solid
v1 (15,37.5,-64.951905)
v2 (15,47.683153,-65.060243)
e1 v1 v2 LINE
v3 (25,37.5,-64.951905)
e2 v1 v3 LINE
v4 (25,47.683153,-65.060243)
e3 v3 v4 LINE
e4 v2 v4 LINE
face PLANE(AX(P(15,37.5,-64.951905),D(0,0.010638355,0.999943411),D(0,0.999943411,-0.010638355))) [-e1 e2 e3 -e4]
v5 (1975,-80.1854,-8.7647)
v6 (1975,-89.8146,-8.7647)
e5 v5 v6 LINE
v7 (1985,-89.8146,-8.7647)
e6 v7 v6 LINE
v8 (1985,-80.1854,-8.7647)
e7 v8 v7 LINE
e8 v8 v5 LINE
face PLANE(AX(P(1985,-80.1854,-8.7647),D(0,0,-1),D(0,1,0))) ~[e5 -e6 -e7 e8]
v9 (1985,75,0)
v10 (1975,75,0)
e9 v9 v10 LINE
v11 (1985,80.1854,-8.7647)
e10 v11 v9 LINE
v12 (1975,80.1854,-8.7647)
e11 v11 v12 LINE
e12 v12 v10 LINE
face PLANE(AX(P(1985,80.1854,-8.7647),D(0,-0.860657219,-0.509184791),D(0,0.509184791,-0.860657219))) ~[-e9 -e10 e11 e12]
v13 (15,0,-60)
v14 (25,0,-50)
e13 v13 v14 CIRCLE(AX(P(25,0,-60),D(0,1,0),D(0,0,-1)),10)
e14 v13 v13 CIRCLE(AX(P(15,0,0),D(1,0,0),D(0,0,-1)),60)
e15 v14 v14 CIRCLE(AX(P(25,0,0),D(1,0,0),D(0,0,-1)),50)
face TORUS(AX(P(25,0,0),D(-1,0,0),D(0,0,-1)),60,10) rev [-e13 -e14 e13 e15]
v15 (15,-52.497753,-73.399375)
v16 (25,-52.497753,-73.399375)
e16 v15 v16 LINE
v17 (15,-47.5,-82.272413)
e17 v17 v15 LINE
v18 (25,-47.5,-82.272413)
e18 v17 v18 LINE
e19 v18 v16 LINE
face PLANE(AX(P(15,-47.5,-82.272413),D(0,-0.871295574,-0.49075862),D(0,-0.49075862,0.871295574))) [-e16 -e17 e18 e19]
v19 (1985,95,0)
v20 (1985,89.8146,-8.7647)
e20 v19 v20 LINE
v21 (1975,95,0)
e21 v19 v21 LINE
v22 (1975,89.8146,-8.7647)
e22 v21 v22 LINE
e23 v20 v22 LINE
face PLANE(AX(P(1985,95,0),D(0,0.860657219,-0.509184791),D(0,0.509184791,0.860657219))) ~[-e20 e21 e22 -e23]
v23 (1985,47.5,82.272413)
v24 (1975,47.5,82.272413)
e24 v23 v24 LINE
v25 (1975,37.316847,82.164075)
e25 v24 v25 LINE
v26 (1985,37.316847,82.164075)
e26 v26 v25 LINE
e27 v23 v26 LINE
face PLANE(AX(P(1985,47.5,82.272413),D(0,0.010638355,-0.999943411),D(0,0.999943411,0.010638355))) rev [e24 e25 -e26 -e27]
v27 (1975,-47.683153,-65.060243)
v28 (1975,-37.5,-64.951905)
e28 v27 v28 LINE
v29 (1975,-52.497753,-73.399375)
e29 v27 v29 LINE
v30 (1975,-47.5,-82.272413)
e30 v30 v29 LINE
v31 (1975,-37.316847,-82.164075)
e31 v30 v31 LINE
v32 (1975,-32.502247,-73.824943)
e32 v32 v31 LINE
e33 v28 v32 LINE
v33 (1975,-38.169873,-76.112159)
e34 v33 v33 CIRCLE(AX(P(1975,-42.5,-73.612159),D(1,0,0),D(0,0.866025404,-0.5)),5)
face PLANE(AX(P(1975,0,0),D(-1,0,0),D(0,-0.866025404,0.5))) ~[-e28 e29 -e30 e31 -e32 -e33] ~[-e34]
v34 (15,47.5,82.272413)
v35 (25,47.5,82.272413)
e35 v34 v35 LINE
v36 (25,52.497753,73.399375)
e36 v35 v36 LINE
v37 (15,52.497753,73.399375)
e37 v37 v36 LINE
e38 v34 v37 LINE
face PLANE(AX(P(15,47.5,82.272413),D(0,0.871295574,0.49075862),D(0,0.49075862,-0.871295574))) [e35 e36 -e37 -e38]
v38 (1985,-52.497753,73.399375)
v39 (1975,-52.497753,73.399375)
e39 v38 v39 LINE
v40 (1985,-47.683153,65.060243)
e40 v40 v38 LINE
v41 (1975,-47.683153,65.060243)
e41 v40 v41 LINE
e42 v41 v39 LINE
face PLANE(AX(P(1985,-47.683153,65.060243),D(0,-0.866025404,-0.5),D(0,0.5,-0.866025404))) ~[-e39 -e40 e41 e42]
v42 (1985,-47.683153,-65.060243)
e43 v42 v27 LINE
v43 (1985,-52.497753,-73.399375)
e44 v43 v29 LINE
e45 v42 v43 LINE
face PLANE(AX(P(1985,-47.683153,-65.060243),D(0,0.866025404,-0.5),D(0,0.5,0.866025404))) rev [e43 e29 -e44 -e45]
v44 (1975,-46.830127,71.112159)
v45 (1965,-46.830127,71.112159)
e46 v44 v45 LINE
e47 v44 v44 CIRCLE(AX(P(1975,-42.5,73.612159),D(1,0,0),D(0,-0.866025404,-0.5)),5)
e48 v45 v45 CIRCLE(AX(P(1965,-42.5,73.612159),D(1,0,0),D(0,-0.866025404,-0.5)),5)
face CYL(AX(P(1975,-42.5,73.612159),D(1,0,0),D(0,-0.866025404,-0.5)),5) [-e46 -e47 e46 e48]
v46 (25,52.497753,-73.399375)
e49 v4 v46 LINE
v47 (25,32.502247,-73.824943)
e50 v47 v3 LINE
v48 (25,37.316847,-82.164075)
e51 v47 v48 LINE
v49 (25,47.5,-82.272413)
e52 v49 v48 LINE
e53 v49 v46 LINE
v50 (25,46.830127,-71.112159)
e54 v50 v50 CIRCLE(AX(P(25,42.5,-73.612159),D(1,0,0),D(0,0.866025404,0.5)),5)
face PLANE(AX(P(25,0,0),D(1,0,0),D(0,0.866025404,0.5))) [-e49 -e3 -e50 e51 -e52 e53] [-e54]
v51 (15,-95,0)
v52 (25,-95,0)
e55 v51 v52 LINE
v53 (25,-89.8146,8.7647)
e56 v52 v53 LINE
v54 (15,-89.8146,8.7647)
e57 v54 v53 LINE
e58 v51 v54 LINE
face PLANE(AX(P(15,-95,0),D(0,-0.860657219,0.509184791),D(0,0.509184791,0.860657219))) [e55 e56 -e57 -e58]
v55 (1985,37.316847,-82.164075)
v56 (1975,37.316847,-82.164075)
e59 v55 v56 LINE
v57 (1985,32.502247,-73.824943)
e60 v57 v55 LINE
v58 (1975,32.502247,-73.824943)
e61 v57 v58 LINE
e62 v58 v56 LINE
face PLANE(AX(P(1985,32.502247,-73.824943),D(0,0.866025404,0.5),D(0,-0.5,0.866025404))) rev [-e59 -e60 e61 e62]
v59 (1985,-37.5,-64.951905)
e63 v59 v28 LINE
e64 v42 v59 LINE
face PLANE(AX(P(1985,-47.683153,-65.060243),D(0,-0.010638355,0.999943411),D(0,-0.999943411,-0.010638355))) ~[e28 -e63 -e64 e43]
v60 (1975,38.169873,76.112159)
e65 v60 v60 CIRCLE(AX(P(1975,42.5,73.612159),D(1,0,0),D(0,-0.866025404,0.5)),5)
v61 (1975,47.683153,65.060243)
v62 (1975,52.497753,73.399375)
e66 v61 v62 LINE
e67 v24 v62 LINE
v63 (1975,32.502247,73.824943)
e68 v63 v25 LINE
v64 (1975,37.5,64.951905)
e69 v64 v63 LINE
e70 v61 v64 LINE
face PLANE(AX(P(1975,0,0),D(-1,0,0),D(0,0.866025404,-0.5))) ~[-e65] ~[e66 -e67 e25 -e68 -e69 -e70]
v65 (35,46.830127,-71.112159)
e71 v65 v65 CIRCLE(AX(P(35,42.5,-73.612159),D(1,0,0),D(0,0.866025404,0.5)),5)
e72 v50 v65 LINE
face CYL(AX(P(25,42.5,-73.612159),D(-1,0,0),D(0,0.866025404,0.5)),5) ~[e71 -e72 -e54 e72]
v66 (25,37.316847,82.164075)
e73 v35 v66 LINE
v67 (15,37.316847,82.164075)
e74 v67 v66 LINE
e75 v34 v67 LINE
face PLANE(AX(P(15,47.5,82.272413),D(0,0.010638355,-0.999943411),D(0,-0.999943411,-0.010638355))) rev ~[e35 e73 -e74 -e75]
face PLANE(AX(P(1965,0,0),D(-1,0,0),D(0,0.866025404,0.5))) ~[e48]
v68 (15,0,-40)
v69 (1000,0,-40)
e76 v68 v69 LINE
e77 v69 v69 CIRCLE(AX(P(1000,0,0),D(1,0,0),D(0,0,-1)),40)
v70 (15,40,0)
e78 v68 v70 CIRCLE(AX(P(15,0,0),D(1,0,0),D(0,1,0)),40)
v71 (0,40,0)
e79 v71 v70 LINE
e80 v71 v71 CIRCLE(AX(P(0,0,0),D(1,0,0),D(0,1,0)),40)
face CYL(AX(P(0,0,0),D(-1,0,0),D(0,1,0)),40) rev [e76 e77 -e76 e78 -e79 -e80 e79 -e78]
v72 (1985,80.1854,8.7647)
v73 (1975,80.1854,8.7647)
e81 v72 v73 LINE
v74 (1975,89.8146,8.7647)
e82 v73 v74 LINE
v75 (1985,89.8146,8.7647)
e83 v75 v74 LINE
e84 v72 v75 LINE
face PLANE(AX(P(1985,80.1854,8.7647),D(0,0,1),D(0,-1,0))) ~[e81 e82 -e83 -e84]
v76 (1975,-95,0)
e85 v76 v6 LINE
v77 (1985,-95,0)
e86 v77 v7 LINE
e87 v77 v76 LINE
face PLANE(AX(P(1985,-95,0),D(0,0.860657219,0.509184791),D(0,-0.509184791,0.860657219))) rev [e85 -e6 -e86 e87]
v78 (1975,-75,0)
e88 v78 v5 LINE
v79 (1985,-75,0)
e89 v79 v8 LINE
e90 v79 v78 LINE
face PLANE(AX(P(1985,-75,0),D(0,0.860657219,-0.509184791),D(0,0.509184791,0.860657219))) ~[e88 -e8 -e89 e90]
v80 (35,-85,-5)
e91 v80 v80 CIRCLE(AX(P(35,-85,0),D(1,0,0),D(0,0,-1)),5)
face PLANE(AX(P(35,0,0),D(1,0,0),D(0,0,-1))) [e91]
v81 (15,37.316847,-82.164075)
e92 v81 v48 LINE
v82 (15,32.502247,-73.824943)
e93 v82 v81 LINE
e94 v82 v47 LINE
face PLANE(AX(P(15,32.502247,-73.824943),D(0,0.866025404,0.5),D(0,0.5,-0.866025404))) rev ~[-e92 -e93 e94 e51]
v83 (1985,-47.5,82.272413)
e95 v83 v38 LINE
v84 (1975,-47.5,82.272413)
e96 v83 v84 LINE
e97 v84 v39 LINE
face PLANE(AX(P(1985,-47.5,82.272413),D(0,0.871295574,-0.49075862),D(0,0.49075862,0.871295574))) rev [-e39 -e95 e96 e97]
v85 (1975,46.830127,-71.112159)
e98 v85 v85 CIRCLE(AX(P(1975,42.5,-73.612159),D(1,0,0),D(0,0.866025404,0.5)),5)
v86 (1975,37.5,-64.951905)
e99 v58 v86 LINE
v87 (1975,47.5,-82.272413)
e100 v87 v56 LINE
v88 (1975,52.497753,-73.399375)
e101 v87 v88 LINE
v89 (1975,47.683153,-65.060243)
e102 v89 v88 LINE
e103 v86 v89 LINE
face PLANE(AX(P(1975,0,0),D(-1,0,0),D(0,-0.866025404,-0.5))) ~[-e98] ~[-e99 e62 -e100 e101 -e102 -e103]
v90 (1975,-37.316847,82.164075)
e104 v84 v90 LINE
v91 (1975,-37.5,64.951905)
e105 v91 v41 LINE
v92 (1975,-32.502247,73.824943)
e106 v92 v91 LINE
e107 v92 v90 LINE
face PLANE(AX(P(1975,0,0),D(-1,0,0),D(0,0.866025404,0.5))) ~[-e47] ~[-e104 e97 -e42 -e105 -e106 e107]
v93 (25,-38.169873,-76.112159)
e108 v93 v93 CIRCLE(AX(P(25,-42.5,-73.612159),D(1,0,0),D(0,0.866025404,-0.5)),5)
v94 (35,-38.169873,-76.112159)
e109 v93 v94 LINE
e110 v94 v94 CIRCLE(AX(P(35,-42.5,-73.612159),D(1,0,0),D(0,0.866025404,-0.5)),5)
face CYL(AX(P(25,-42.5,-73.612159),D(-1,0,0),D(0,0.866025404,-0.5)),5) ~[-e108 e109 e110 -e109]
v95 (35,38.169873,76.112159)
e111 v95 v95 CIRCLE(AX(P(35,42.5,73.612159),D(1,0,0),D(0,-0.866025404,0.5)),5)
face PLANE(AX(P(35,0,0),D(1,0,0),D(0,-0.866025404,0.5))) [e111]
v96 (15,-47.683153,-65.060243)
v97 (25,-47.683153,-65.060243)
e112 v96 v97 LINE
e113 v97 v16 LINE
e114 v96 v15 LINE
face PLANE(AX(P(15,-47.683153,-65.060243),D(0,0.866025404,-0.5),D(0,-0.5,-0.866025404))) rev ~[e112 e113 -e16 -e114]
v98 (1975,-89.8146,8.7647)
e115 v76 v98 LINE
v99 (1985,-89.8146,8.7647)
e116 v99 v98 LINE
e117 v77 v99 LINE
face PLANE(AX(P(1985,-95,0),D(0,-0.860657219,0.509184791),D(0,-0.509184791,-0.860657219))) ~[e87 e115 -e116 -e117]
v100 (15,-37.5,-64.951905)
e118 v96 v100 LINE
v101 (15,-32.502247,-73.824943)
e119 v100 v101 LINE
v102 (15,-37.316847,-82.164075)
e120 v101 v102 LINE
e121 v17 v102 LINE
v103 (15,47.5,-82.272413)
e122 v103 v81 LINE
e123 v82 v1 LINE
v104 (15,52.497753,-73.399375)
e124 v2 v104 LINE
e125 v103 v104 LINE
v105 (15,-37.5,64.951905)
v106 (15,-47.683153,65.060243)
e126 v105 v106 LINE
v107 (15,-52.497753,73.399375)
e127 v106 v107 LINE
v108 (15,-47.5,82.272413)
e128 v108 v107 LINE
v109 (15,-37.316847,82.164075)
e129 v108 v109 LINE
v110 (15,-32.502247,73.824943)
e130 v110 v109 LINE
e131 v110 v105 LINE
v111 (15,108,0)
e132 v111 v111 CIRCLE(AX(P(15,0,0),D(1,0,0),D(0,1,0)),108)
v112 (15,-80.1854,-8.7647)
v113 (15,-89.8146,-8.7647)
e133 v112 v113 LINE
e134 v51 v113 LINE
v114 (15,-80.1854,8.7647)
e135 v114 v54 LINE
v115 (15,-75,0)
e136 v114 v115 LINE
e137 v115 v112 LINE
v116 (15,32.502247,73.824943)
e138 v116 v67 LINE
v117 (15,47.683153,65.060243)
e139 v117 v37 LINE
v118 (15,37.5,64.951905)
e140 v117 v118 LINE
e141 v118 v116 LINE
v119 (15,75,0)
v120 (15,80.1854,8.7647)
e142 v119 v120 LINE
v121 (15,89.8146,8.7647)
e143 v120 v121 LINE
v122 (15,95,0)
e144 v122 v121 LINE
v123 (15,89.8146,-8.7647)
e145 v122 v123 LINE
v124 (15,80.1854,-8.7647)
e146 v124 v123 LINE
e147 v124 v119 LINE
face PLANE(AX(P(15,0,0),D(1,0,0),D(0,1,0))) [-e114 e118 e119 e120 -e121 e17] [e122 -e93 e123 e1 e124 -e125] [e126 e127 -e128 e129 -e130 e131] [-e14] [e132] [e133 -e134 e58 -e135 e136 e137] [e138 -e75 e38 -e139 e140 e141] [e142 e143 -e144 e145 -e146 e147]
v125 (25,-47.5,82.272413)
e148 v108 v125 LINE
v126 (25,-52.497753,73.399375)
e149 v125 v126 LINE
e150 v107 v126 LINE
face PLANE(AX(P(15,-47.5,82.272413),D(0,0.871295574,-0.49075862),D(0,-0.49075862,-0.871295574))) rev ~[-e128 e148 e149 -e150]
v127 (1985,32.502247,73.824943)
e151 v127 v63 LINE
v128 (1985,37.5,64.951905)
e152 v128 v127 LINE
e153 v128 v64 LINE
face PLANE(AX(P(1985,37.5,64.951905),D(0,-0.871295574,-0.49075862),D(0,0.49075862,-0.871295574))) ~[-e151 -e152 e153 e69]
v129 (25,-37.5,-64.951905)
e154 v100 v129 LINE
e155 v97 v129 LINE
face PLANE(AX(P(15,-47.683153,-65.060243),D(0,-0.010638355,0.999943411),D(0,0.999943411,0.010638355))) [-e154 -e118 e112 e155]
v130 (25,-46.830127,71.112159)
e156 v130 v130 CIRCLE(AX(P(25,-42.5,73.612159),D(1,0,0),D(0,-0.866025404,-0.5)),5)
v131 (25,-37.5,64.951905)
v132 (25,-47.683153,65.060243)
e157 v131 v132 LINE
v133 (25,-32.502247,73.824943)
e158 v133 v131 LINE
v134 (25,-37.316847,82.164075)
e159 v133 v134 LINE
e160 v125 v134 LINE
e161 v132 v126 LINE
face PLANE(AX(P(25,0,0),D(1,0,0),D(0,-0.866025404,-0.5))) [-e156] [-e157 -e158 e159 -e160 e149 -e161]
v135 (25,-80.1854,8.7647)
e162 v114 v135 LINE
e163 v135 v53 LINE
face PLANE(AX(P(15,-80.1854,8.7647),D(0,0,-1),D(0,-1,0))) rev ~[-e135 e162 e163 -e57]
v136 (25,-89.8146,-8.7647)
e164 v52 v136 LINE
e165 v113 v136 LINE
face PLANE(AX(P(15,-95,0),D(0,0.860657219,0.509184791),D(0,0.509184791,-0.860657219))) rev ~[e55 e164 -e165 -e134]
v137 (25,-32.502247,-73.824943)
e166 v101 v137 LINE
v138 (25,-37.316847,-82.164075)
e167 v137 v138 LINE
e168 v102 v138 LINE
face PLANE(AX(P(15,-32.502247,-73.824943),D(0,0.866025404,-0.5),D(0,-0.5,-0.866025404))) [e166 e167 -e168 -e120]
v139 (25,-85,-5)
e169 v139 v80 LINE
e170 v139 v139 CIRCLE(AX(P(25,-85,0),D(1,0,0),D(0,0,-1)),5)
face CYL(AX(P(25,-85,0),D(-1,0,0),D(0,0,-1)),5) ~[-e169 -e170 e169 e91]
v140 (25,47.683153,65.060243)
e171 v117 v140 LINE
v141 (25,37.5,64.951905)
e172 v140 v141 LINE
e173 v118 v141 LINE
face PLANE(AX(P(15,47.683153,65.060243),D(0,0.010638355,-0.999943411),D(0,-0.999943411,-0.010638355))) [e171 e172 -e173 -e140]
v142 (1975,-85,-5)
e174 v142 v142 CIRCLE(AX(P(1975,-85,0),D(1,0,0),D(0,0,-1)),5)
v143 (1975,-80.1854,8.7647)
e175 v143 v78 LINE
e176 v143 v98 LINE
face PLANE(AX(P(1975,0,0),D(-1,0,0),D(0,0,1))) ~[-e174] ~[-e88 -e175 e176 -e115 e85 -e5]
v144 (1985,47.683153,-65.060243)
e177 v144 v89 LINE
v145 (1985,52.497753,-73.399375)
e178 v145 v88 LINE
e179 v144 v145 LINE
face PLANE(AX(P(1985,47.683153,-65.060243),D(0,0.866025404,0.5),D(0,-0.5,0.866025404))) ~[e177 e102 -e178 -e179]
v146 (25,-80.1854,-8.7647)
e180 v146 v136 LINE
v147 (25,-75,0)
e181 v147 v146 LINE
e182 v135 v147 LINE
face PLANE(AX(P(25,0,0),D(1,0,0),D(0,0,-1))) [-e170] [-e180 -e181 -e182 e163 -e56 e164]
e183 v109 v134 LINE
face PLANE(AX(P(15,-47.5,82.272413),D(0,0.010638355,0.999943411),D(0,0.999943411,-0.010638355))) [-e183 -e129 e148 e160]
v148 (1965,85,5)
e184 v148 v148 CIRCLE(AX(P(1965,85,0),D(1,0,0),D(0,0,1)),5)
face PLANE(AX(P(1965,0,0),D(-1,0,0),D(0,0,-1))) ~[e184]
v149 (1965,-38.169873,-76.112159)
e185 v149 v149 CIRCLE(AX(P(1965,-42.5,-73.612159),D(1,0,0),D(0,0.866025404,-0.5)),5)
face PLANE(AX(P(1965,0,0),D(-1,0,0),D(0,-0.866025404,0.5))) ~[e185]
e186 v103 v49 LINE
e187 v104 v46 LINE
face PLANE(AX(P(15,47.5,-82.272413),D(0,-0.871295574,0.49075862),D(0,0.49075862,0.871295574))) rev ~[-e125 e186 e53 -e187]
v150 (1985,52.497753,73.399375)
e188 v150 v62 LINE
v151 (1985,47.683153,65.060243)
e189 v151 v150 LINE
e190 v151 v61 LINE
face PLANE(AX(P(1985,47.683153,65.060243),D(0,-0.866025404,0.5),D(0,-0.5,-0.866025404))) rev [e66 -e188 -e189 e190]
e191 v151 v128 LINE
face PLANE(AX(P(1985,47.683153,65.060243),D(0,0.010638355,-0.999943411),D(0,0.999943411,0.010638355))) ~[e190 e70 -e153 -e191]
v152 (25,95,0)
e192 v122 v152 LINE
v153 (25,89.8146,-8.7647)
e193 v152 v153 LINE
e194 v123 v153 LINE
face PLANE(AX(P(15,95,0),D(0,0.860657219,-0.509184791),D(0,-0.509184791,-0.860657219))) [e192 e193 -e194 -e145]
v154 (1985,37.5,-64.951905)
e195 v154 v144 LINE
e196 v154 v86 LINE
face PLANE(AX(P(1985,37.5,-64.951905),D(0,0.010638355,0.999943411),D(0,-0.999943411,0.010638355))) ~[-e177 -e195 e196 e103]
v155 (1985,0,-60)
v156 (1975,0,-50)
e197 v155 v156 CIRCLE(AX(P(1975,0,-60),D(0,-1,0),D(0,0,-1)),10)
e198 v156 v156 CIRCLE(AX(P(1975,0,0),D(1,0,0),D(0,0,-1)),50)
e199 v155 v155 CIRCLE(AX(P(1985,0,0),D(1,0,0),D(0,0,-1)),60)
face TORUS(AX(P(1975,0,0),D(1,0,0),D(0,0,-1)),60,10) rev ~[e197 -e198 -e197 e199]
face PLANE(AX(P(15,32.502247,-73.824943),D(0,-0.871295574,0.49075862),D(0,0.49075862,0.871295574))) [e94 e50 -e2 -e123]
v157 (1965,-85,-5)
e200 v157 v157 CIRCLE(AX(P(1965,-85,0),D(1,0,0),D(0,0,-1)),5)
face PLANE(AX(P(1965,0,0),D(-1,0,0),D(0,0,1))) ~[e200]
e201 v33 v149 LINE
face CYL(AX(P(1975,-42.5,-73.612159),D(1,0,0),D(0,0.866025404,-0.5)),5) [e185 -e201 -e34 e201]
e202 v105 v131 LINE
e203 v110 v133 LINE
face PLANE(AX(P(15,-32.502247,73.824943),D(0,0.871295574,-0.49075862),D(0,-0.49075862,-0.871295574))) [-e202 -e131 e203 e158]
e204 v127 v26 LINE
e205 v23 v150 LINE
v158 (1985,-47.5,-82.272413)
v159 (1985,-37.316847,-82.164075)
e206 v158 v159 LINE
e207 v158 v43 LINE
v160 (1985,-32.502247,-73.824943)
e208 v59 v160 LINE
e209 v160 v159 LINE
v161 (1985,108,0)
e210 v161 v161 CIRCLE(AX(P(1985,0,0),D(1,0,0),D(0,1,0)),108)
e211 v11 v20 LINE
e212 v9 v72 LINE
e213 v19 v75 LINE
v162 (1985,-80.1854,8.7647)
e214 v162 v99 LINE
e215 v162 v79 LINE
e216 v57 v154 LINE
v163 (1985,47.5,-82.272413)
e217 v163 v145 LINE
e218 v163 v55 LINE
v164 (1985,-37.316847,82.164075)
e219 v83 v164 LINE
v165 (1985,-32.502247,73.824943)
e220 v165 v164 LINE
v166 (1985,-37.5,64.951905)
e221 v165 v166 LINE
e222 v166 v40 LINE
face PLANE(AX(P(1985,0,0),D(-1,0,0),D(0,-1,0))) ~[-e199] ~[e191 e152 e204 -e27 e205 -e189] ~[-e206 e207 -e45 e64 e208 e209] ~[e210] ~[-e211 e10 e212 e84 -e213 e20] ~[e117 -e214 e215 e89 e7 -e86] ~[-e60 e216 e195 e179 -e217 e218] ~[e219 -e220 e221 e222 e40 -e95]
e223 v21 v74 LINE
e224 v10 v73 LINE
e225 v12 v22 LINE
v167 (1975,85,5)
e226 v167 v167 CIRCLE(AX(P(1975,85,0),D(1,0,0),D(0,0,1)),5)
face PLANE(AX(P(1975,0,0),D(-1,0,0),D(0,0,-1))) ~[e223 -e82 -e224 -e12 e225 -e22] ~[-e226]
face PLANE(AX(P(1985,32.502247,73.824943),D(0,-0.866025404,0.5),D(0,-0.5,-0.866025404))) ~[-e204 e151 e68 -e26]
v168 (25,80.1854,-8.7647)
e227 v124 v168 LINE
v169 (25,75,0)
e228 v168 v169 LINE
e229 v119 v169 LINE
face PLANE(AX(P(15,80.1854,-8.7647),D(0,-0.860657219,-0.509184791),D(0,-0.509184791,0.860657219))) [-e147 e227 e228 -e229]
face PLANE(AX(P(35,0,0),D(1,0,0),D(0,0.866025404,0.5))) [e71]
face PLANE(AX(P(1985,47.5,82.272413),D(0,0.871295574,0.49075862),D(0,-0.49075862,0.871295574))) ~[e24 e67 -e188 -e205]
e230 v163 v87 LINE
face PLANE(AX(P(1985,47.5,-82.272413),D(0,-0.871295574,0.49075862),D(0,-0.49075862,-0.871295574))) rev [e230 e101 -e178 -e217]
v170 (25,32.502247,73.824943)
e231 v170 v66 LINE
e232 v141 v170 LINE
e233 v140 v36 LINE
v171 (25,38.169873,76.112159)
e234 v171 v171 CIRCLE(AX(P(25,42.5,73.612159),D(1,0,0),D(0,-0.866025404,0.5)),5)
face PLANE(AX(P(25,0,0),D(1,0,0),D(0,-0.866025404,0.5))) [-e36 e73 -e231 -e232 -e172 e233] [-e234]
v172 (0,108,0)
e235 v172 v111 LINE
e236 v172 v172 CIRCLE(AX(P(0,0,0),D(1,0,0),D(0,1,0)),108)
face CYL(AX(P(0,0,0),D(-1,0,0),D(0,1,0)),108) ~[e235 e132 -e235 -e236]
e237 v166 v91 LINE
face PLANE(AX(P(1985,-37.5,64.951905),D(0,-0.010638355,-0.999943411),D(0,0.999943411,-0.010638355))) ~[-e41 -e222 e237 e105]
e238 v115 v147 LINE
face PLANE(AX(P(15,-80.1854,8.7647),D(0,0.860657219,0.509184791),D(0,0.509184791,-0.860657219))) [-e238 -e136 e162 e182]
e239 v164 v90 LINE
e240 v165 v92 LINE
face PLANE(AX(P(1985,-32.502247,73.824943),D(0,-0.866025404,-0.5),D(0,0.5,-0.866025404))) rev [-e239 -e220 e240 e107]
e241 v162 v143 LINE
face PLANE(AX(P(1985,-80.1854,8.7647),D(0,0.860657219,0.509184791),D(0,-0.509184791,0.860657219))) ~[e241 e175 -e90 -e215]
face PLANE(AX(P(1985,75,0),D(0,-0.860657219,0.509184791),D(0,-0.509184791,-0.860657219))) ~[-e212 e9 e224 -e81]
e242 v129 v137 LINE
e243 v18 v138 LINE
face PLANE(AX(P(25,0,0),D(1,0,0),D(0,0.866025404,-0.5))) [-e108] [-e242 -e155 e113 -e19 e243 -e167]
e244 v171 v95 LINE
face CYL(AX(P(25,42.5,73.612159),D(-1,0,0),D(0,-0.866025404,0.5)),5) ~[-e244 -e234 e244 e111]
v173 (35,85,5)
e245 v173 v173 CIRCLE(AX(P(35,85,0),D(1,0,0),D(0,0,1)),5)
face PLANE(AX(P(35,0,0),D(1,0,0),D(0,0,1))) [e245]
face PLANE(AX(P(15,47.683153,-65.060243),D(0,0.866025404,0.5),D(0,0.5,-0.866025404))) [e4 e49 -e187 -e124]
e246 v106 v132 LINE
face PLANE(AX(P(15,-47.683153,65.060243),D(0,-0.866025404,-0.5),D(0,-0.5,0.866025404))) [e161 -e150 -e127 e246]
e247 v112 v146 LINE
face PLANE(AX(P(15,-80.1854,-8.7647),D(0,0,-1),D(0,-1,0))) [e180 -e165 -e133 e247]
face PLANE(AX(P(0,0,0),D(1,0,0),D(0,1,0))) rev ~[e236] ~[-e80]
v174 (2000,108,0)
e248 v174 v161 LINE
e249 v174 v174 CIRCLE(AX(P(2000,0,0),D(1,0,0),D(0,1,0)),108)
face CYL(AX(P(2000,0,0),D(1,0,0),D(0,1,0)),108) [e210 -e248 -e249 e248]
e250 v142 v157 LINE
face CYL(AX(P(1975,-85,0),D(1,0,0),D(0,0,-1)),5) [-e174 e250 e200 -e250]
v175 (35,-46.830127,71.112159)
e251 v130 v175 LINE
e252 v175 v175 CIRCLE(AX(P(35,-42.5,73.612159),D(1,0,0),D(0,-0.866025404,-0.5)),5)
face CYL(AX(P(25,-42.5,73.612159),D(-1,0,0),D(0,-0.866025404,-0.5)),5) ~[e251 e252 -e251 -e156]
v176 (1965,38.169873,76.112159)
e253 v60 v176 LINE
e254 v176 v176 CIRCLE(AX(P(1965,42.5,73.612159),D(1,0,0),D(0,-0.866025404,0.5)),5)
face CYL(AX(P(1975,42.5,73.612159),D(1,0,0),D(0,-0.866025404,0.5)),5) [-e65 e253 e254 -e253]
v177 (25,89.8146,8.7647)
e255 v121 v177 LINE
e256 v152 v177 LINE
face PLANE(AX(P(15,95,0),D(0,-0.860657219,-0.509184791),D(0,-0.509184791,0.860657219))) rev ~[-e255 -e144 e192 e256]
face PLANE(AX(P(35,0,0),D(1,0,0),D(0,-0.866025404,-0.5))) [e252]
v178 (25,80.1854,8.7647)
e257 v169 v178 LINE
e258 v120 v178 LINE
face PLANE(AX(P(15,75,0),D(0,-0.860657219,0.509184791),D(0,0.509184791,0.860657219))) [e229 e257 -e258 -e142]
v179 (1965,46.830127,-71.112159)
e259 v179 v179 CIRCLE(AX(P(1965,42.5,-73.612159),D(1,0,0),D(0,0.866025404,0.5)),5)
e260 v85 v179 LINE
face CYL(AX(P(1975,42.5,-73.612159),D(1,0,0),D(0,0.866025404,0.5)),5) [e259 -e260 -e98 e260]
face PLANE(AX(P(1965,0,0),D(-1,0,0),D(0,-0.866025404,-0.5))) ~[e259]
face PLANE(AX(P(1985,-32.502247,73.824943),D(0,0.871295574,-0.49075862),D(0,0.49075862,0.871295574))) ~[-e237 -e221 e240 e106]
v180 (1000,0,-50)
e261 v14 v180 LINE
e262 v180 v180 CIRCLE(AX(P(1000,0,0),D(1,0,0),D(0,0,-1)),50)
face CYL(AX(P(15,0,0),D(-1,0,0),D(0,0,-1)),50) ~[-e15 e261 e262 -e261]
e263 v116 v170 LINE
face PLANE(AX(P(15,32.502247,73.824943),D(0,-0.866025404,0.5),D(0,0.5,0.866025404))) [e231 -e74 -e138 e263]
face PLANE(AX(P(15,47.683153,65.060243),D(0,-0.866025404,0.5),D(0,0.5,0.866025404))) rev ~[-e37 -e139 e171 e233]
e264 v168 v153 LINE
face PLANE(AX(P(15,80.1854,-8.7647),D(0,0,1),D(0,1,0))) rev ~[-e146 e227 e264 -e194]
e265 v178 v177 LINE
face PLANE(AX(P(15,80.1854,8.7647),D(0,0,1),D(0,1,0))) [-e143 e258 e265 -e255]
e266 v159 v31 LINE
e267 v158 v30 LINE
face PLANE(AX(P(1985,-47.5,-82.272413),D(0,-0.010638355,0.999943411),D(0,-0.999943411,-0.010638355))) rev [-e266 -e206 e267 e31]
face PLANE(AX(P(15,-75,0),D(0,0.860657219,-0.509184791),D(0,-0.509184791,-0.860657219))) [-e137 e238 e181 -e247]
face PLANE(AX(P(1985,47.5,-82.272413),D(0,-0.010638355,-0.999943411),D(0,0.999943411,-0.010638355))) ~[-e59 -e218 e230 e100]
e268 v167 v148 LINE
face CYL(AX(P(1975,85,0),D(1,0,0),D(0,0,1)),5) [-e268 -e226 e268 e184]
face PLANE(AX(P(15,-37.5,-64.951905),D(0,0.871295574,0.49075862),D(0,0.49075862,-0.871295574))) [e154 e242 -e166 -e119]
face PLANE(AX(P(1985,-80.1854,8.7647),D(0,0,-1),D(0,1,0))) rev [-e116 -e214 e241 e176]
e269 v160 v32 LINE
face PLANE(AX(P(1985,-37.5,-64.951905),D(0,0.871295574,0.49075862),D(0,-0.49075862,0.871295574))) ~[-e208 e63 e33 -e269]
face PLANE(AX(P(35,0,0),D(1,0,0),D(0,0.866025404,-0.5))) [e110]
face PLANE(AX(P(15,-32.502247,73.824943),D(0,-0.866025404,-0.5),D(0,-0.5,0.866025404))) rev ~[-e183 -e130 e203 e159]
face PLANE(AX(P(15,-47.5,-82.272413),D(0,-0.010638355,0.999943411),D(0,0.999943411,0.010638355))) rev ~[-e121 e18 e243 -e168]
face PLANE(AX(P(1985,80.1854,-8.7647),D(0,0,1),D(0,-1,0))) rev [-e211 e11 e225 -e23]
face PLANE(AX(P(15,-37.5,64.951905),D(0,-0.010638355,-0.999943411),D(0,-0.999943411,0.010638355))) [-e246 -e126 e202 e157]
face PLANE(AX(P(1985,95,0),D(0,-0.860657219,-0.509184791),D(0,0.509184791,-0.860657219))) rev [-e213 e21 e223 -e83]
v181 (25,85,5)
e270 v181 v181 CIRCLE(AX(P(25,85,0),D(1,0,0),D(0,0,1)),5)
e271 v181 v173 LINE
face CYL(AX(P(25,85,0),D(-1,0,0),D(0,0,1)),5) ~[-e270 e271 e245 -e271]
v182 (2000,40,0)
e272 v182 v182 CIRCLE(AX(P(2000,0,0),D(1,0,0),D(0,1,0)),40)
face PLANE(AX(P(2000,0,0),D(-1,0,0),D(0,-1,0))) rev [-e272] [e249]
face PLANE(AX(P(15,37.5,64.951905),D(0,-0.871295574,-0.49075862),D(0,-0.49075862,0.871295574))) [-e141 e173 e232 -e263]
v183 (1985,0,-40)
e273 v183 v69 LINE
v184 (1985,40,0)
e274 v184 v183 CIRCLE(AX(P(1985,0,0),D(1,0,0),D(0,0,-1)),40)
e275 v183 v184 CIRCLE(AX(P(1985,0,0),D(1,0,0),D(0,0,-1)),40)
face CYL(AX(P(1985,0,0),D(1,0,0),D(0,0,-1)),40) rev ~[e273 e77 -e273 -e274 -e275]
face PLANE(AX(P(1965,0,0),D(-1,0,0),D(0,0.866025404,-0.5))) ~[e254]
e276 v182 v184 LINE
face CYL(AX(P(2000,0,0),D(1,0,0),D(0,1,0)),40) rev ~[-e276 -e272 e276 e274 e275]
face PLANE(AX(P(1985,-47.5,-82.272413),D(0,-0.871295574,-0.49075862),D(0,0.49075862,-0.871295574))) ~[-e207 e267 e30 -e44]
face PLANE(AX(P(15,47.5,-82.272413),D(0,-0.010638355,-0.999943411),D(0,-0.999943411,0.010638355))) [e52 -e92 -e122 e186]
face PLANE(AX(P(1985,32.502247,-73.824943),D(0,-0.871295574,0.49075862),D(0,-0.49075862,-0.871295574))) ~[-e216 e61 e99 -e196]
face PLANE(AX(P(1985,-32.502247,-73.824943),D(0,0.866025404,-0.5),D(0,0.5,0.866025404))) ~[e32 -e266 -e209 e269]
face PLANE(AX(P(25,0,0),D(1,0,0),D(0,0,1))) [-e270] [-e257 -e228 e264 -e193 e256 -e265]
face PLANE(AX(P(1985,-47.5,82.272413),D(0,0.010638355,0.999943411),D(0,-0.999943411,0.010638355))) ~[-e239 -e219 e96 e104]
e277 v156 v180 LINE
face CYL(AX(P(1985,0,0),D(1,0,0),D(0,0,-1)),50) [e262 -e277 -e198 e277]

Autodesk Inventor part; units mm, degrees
ref_plane "YZ Plane" through (0, 0, 0) normal (1, 0, 0) x (0, 1, 0)
ref_plane "XZ Plane" through (0, 0, 0) normal (0, 1, 0) x (-1, 0, 0)
ref_plane "XY Plane" through (0, 0, 0) normal (0, 0, 1) x (1, 0, 0)
sketch "Skizze1" plane through (0, 0, 0) normal (1, 0, 0) x (0, 1, 0)
  circle A0 centre (0, 0) radius 40
  circle A1 centre (0, 0) radius 108
  dimension "d0" = 216
  dimension "d1" = 80
extrude "Extrusion1" add sketch "Skizze1" along normal blind 15
sketch "Skizze2" plane through (15, 0, 0) normal (1, 0, 0) x (0, 0, -1)
  circle A0 centre (0, 0) radius 40
  circle A1 centre (0, 0) radius 50
  dimension "d4" = 100
extrude "Extrusion2" add sketch "Skizze2" along normal blind 985
fillet "Rundung1" radius 10 1 edges at (15, 0, 50)
sketch "Skizze3" plane through (15, 0, 0) normal (1, 0, 0) x (0, 0, -1)
  circle A0 centre (0, -85) radius 10 construction
  line L0 (0, -95) -> (-8.7647, -89.8146)
  line L1 (-8.7647, -80.1854) -> (0, -75)
  line L2 (0, -75) -> (8.7647, -80.1854)
  line L3 (8.7647, -80.1854) -> (8.7647, -89.8146)
  line L4 (0, -95) -> (8.7647, -89.8146)
  line L5 (-8.7647, -80.1854) -> (-8.7647, -89.8146)
  point P0 (0, 0)
  dimension "d8" = 20
  dimension "d9" = 85
extrude "Extrusion3" add sketch "Skizze3" along normal blind 10
sketch "Skizze4" plane through (25, 0, 0) normal (1, 0, 0) x (0, 0, -1)
  circle A0 centre (0, -85) radius 5
  point P0 (0, 0)
  dimension "d12" = 10
extrude "Extrusion4" add sketch "Skizze4" along normal blind 10
pattern_circular "Runde Anordnung1" count 6 over 360 about axis through (-10, 0, 0) along (1, 0, 0) of "Extrusion3", "Extrusion4"
mirror "Spiegeln1" about plane through (1000, 0, 0) normal (1, 0, 0) of "Extrusion3", "Extrusion4", "Runde Anordnung1", "Extrusion2", "Extrusion1", "Rundung1"
properties part number "DN80-2m"
